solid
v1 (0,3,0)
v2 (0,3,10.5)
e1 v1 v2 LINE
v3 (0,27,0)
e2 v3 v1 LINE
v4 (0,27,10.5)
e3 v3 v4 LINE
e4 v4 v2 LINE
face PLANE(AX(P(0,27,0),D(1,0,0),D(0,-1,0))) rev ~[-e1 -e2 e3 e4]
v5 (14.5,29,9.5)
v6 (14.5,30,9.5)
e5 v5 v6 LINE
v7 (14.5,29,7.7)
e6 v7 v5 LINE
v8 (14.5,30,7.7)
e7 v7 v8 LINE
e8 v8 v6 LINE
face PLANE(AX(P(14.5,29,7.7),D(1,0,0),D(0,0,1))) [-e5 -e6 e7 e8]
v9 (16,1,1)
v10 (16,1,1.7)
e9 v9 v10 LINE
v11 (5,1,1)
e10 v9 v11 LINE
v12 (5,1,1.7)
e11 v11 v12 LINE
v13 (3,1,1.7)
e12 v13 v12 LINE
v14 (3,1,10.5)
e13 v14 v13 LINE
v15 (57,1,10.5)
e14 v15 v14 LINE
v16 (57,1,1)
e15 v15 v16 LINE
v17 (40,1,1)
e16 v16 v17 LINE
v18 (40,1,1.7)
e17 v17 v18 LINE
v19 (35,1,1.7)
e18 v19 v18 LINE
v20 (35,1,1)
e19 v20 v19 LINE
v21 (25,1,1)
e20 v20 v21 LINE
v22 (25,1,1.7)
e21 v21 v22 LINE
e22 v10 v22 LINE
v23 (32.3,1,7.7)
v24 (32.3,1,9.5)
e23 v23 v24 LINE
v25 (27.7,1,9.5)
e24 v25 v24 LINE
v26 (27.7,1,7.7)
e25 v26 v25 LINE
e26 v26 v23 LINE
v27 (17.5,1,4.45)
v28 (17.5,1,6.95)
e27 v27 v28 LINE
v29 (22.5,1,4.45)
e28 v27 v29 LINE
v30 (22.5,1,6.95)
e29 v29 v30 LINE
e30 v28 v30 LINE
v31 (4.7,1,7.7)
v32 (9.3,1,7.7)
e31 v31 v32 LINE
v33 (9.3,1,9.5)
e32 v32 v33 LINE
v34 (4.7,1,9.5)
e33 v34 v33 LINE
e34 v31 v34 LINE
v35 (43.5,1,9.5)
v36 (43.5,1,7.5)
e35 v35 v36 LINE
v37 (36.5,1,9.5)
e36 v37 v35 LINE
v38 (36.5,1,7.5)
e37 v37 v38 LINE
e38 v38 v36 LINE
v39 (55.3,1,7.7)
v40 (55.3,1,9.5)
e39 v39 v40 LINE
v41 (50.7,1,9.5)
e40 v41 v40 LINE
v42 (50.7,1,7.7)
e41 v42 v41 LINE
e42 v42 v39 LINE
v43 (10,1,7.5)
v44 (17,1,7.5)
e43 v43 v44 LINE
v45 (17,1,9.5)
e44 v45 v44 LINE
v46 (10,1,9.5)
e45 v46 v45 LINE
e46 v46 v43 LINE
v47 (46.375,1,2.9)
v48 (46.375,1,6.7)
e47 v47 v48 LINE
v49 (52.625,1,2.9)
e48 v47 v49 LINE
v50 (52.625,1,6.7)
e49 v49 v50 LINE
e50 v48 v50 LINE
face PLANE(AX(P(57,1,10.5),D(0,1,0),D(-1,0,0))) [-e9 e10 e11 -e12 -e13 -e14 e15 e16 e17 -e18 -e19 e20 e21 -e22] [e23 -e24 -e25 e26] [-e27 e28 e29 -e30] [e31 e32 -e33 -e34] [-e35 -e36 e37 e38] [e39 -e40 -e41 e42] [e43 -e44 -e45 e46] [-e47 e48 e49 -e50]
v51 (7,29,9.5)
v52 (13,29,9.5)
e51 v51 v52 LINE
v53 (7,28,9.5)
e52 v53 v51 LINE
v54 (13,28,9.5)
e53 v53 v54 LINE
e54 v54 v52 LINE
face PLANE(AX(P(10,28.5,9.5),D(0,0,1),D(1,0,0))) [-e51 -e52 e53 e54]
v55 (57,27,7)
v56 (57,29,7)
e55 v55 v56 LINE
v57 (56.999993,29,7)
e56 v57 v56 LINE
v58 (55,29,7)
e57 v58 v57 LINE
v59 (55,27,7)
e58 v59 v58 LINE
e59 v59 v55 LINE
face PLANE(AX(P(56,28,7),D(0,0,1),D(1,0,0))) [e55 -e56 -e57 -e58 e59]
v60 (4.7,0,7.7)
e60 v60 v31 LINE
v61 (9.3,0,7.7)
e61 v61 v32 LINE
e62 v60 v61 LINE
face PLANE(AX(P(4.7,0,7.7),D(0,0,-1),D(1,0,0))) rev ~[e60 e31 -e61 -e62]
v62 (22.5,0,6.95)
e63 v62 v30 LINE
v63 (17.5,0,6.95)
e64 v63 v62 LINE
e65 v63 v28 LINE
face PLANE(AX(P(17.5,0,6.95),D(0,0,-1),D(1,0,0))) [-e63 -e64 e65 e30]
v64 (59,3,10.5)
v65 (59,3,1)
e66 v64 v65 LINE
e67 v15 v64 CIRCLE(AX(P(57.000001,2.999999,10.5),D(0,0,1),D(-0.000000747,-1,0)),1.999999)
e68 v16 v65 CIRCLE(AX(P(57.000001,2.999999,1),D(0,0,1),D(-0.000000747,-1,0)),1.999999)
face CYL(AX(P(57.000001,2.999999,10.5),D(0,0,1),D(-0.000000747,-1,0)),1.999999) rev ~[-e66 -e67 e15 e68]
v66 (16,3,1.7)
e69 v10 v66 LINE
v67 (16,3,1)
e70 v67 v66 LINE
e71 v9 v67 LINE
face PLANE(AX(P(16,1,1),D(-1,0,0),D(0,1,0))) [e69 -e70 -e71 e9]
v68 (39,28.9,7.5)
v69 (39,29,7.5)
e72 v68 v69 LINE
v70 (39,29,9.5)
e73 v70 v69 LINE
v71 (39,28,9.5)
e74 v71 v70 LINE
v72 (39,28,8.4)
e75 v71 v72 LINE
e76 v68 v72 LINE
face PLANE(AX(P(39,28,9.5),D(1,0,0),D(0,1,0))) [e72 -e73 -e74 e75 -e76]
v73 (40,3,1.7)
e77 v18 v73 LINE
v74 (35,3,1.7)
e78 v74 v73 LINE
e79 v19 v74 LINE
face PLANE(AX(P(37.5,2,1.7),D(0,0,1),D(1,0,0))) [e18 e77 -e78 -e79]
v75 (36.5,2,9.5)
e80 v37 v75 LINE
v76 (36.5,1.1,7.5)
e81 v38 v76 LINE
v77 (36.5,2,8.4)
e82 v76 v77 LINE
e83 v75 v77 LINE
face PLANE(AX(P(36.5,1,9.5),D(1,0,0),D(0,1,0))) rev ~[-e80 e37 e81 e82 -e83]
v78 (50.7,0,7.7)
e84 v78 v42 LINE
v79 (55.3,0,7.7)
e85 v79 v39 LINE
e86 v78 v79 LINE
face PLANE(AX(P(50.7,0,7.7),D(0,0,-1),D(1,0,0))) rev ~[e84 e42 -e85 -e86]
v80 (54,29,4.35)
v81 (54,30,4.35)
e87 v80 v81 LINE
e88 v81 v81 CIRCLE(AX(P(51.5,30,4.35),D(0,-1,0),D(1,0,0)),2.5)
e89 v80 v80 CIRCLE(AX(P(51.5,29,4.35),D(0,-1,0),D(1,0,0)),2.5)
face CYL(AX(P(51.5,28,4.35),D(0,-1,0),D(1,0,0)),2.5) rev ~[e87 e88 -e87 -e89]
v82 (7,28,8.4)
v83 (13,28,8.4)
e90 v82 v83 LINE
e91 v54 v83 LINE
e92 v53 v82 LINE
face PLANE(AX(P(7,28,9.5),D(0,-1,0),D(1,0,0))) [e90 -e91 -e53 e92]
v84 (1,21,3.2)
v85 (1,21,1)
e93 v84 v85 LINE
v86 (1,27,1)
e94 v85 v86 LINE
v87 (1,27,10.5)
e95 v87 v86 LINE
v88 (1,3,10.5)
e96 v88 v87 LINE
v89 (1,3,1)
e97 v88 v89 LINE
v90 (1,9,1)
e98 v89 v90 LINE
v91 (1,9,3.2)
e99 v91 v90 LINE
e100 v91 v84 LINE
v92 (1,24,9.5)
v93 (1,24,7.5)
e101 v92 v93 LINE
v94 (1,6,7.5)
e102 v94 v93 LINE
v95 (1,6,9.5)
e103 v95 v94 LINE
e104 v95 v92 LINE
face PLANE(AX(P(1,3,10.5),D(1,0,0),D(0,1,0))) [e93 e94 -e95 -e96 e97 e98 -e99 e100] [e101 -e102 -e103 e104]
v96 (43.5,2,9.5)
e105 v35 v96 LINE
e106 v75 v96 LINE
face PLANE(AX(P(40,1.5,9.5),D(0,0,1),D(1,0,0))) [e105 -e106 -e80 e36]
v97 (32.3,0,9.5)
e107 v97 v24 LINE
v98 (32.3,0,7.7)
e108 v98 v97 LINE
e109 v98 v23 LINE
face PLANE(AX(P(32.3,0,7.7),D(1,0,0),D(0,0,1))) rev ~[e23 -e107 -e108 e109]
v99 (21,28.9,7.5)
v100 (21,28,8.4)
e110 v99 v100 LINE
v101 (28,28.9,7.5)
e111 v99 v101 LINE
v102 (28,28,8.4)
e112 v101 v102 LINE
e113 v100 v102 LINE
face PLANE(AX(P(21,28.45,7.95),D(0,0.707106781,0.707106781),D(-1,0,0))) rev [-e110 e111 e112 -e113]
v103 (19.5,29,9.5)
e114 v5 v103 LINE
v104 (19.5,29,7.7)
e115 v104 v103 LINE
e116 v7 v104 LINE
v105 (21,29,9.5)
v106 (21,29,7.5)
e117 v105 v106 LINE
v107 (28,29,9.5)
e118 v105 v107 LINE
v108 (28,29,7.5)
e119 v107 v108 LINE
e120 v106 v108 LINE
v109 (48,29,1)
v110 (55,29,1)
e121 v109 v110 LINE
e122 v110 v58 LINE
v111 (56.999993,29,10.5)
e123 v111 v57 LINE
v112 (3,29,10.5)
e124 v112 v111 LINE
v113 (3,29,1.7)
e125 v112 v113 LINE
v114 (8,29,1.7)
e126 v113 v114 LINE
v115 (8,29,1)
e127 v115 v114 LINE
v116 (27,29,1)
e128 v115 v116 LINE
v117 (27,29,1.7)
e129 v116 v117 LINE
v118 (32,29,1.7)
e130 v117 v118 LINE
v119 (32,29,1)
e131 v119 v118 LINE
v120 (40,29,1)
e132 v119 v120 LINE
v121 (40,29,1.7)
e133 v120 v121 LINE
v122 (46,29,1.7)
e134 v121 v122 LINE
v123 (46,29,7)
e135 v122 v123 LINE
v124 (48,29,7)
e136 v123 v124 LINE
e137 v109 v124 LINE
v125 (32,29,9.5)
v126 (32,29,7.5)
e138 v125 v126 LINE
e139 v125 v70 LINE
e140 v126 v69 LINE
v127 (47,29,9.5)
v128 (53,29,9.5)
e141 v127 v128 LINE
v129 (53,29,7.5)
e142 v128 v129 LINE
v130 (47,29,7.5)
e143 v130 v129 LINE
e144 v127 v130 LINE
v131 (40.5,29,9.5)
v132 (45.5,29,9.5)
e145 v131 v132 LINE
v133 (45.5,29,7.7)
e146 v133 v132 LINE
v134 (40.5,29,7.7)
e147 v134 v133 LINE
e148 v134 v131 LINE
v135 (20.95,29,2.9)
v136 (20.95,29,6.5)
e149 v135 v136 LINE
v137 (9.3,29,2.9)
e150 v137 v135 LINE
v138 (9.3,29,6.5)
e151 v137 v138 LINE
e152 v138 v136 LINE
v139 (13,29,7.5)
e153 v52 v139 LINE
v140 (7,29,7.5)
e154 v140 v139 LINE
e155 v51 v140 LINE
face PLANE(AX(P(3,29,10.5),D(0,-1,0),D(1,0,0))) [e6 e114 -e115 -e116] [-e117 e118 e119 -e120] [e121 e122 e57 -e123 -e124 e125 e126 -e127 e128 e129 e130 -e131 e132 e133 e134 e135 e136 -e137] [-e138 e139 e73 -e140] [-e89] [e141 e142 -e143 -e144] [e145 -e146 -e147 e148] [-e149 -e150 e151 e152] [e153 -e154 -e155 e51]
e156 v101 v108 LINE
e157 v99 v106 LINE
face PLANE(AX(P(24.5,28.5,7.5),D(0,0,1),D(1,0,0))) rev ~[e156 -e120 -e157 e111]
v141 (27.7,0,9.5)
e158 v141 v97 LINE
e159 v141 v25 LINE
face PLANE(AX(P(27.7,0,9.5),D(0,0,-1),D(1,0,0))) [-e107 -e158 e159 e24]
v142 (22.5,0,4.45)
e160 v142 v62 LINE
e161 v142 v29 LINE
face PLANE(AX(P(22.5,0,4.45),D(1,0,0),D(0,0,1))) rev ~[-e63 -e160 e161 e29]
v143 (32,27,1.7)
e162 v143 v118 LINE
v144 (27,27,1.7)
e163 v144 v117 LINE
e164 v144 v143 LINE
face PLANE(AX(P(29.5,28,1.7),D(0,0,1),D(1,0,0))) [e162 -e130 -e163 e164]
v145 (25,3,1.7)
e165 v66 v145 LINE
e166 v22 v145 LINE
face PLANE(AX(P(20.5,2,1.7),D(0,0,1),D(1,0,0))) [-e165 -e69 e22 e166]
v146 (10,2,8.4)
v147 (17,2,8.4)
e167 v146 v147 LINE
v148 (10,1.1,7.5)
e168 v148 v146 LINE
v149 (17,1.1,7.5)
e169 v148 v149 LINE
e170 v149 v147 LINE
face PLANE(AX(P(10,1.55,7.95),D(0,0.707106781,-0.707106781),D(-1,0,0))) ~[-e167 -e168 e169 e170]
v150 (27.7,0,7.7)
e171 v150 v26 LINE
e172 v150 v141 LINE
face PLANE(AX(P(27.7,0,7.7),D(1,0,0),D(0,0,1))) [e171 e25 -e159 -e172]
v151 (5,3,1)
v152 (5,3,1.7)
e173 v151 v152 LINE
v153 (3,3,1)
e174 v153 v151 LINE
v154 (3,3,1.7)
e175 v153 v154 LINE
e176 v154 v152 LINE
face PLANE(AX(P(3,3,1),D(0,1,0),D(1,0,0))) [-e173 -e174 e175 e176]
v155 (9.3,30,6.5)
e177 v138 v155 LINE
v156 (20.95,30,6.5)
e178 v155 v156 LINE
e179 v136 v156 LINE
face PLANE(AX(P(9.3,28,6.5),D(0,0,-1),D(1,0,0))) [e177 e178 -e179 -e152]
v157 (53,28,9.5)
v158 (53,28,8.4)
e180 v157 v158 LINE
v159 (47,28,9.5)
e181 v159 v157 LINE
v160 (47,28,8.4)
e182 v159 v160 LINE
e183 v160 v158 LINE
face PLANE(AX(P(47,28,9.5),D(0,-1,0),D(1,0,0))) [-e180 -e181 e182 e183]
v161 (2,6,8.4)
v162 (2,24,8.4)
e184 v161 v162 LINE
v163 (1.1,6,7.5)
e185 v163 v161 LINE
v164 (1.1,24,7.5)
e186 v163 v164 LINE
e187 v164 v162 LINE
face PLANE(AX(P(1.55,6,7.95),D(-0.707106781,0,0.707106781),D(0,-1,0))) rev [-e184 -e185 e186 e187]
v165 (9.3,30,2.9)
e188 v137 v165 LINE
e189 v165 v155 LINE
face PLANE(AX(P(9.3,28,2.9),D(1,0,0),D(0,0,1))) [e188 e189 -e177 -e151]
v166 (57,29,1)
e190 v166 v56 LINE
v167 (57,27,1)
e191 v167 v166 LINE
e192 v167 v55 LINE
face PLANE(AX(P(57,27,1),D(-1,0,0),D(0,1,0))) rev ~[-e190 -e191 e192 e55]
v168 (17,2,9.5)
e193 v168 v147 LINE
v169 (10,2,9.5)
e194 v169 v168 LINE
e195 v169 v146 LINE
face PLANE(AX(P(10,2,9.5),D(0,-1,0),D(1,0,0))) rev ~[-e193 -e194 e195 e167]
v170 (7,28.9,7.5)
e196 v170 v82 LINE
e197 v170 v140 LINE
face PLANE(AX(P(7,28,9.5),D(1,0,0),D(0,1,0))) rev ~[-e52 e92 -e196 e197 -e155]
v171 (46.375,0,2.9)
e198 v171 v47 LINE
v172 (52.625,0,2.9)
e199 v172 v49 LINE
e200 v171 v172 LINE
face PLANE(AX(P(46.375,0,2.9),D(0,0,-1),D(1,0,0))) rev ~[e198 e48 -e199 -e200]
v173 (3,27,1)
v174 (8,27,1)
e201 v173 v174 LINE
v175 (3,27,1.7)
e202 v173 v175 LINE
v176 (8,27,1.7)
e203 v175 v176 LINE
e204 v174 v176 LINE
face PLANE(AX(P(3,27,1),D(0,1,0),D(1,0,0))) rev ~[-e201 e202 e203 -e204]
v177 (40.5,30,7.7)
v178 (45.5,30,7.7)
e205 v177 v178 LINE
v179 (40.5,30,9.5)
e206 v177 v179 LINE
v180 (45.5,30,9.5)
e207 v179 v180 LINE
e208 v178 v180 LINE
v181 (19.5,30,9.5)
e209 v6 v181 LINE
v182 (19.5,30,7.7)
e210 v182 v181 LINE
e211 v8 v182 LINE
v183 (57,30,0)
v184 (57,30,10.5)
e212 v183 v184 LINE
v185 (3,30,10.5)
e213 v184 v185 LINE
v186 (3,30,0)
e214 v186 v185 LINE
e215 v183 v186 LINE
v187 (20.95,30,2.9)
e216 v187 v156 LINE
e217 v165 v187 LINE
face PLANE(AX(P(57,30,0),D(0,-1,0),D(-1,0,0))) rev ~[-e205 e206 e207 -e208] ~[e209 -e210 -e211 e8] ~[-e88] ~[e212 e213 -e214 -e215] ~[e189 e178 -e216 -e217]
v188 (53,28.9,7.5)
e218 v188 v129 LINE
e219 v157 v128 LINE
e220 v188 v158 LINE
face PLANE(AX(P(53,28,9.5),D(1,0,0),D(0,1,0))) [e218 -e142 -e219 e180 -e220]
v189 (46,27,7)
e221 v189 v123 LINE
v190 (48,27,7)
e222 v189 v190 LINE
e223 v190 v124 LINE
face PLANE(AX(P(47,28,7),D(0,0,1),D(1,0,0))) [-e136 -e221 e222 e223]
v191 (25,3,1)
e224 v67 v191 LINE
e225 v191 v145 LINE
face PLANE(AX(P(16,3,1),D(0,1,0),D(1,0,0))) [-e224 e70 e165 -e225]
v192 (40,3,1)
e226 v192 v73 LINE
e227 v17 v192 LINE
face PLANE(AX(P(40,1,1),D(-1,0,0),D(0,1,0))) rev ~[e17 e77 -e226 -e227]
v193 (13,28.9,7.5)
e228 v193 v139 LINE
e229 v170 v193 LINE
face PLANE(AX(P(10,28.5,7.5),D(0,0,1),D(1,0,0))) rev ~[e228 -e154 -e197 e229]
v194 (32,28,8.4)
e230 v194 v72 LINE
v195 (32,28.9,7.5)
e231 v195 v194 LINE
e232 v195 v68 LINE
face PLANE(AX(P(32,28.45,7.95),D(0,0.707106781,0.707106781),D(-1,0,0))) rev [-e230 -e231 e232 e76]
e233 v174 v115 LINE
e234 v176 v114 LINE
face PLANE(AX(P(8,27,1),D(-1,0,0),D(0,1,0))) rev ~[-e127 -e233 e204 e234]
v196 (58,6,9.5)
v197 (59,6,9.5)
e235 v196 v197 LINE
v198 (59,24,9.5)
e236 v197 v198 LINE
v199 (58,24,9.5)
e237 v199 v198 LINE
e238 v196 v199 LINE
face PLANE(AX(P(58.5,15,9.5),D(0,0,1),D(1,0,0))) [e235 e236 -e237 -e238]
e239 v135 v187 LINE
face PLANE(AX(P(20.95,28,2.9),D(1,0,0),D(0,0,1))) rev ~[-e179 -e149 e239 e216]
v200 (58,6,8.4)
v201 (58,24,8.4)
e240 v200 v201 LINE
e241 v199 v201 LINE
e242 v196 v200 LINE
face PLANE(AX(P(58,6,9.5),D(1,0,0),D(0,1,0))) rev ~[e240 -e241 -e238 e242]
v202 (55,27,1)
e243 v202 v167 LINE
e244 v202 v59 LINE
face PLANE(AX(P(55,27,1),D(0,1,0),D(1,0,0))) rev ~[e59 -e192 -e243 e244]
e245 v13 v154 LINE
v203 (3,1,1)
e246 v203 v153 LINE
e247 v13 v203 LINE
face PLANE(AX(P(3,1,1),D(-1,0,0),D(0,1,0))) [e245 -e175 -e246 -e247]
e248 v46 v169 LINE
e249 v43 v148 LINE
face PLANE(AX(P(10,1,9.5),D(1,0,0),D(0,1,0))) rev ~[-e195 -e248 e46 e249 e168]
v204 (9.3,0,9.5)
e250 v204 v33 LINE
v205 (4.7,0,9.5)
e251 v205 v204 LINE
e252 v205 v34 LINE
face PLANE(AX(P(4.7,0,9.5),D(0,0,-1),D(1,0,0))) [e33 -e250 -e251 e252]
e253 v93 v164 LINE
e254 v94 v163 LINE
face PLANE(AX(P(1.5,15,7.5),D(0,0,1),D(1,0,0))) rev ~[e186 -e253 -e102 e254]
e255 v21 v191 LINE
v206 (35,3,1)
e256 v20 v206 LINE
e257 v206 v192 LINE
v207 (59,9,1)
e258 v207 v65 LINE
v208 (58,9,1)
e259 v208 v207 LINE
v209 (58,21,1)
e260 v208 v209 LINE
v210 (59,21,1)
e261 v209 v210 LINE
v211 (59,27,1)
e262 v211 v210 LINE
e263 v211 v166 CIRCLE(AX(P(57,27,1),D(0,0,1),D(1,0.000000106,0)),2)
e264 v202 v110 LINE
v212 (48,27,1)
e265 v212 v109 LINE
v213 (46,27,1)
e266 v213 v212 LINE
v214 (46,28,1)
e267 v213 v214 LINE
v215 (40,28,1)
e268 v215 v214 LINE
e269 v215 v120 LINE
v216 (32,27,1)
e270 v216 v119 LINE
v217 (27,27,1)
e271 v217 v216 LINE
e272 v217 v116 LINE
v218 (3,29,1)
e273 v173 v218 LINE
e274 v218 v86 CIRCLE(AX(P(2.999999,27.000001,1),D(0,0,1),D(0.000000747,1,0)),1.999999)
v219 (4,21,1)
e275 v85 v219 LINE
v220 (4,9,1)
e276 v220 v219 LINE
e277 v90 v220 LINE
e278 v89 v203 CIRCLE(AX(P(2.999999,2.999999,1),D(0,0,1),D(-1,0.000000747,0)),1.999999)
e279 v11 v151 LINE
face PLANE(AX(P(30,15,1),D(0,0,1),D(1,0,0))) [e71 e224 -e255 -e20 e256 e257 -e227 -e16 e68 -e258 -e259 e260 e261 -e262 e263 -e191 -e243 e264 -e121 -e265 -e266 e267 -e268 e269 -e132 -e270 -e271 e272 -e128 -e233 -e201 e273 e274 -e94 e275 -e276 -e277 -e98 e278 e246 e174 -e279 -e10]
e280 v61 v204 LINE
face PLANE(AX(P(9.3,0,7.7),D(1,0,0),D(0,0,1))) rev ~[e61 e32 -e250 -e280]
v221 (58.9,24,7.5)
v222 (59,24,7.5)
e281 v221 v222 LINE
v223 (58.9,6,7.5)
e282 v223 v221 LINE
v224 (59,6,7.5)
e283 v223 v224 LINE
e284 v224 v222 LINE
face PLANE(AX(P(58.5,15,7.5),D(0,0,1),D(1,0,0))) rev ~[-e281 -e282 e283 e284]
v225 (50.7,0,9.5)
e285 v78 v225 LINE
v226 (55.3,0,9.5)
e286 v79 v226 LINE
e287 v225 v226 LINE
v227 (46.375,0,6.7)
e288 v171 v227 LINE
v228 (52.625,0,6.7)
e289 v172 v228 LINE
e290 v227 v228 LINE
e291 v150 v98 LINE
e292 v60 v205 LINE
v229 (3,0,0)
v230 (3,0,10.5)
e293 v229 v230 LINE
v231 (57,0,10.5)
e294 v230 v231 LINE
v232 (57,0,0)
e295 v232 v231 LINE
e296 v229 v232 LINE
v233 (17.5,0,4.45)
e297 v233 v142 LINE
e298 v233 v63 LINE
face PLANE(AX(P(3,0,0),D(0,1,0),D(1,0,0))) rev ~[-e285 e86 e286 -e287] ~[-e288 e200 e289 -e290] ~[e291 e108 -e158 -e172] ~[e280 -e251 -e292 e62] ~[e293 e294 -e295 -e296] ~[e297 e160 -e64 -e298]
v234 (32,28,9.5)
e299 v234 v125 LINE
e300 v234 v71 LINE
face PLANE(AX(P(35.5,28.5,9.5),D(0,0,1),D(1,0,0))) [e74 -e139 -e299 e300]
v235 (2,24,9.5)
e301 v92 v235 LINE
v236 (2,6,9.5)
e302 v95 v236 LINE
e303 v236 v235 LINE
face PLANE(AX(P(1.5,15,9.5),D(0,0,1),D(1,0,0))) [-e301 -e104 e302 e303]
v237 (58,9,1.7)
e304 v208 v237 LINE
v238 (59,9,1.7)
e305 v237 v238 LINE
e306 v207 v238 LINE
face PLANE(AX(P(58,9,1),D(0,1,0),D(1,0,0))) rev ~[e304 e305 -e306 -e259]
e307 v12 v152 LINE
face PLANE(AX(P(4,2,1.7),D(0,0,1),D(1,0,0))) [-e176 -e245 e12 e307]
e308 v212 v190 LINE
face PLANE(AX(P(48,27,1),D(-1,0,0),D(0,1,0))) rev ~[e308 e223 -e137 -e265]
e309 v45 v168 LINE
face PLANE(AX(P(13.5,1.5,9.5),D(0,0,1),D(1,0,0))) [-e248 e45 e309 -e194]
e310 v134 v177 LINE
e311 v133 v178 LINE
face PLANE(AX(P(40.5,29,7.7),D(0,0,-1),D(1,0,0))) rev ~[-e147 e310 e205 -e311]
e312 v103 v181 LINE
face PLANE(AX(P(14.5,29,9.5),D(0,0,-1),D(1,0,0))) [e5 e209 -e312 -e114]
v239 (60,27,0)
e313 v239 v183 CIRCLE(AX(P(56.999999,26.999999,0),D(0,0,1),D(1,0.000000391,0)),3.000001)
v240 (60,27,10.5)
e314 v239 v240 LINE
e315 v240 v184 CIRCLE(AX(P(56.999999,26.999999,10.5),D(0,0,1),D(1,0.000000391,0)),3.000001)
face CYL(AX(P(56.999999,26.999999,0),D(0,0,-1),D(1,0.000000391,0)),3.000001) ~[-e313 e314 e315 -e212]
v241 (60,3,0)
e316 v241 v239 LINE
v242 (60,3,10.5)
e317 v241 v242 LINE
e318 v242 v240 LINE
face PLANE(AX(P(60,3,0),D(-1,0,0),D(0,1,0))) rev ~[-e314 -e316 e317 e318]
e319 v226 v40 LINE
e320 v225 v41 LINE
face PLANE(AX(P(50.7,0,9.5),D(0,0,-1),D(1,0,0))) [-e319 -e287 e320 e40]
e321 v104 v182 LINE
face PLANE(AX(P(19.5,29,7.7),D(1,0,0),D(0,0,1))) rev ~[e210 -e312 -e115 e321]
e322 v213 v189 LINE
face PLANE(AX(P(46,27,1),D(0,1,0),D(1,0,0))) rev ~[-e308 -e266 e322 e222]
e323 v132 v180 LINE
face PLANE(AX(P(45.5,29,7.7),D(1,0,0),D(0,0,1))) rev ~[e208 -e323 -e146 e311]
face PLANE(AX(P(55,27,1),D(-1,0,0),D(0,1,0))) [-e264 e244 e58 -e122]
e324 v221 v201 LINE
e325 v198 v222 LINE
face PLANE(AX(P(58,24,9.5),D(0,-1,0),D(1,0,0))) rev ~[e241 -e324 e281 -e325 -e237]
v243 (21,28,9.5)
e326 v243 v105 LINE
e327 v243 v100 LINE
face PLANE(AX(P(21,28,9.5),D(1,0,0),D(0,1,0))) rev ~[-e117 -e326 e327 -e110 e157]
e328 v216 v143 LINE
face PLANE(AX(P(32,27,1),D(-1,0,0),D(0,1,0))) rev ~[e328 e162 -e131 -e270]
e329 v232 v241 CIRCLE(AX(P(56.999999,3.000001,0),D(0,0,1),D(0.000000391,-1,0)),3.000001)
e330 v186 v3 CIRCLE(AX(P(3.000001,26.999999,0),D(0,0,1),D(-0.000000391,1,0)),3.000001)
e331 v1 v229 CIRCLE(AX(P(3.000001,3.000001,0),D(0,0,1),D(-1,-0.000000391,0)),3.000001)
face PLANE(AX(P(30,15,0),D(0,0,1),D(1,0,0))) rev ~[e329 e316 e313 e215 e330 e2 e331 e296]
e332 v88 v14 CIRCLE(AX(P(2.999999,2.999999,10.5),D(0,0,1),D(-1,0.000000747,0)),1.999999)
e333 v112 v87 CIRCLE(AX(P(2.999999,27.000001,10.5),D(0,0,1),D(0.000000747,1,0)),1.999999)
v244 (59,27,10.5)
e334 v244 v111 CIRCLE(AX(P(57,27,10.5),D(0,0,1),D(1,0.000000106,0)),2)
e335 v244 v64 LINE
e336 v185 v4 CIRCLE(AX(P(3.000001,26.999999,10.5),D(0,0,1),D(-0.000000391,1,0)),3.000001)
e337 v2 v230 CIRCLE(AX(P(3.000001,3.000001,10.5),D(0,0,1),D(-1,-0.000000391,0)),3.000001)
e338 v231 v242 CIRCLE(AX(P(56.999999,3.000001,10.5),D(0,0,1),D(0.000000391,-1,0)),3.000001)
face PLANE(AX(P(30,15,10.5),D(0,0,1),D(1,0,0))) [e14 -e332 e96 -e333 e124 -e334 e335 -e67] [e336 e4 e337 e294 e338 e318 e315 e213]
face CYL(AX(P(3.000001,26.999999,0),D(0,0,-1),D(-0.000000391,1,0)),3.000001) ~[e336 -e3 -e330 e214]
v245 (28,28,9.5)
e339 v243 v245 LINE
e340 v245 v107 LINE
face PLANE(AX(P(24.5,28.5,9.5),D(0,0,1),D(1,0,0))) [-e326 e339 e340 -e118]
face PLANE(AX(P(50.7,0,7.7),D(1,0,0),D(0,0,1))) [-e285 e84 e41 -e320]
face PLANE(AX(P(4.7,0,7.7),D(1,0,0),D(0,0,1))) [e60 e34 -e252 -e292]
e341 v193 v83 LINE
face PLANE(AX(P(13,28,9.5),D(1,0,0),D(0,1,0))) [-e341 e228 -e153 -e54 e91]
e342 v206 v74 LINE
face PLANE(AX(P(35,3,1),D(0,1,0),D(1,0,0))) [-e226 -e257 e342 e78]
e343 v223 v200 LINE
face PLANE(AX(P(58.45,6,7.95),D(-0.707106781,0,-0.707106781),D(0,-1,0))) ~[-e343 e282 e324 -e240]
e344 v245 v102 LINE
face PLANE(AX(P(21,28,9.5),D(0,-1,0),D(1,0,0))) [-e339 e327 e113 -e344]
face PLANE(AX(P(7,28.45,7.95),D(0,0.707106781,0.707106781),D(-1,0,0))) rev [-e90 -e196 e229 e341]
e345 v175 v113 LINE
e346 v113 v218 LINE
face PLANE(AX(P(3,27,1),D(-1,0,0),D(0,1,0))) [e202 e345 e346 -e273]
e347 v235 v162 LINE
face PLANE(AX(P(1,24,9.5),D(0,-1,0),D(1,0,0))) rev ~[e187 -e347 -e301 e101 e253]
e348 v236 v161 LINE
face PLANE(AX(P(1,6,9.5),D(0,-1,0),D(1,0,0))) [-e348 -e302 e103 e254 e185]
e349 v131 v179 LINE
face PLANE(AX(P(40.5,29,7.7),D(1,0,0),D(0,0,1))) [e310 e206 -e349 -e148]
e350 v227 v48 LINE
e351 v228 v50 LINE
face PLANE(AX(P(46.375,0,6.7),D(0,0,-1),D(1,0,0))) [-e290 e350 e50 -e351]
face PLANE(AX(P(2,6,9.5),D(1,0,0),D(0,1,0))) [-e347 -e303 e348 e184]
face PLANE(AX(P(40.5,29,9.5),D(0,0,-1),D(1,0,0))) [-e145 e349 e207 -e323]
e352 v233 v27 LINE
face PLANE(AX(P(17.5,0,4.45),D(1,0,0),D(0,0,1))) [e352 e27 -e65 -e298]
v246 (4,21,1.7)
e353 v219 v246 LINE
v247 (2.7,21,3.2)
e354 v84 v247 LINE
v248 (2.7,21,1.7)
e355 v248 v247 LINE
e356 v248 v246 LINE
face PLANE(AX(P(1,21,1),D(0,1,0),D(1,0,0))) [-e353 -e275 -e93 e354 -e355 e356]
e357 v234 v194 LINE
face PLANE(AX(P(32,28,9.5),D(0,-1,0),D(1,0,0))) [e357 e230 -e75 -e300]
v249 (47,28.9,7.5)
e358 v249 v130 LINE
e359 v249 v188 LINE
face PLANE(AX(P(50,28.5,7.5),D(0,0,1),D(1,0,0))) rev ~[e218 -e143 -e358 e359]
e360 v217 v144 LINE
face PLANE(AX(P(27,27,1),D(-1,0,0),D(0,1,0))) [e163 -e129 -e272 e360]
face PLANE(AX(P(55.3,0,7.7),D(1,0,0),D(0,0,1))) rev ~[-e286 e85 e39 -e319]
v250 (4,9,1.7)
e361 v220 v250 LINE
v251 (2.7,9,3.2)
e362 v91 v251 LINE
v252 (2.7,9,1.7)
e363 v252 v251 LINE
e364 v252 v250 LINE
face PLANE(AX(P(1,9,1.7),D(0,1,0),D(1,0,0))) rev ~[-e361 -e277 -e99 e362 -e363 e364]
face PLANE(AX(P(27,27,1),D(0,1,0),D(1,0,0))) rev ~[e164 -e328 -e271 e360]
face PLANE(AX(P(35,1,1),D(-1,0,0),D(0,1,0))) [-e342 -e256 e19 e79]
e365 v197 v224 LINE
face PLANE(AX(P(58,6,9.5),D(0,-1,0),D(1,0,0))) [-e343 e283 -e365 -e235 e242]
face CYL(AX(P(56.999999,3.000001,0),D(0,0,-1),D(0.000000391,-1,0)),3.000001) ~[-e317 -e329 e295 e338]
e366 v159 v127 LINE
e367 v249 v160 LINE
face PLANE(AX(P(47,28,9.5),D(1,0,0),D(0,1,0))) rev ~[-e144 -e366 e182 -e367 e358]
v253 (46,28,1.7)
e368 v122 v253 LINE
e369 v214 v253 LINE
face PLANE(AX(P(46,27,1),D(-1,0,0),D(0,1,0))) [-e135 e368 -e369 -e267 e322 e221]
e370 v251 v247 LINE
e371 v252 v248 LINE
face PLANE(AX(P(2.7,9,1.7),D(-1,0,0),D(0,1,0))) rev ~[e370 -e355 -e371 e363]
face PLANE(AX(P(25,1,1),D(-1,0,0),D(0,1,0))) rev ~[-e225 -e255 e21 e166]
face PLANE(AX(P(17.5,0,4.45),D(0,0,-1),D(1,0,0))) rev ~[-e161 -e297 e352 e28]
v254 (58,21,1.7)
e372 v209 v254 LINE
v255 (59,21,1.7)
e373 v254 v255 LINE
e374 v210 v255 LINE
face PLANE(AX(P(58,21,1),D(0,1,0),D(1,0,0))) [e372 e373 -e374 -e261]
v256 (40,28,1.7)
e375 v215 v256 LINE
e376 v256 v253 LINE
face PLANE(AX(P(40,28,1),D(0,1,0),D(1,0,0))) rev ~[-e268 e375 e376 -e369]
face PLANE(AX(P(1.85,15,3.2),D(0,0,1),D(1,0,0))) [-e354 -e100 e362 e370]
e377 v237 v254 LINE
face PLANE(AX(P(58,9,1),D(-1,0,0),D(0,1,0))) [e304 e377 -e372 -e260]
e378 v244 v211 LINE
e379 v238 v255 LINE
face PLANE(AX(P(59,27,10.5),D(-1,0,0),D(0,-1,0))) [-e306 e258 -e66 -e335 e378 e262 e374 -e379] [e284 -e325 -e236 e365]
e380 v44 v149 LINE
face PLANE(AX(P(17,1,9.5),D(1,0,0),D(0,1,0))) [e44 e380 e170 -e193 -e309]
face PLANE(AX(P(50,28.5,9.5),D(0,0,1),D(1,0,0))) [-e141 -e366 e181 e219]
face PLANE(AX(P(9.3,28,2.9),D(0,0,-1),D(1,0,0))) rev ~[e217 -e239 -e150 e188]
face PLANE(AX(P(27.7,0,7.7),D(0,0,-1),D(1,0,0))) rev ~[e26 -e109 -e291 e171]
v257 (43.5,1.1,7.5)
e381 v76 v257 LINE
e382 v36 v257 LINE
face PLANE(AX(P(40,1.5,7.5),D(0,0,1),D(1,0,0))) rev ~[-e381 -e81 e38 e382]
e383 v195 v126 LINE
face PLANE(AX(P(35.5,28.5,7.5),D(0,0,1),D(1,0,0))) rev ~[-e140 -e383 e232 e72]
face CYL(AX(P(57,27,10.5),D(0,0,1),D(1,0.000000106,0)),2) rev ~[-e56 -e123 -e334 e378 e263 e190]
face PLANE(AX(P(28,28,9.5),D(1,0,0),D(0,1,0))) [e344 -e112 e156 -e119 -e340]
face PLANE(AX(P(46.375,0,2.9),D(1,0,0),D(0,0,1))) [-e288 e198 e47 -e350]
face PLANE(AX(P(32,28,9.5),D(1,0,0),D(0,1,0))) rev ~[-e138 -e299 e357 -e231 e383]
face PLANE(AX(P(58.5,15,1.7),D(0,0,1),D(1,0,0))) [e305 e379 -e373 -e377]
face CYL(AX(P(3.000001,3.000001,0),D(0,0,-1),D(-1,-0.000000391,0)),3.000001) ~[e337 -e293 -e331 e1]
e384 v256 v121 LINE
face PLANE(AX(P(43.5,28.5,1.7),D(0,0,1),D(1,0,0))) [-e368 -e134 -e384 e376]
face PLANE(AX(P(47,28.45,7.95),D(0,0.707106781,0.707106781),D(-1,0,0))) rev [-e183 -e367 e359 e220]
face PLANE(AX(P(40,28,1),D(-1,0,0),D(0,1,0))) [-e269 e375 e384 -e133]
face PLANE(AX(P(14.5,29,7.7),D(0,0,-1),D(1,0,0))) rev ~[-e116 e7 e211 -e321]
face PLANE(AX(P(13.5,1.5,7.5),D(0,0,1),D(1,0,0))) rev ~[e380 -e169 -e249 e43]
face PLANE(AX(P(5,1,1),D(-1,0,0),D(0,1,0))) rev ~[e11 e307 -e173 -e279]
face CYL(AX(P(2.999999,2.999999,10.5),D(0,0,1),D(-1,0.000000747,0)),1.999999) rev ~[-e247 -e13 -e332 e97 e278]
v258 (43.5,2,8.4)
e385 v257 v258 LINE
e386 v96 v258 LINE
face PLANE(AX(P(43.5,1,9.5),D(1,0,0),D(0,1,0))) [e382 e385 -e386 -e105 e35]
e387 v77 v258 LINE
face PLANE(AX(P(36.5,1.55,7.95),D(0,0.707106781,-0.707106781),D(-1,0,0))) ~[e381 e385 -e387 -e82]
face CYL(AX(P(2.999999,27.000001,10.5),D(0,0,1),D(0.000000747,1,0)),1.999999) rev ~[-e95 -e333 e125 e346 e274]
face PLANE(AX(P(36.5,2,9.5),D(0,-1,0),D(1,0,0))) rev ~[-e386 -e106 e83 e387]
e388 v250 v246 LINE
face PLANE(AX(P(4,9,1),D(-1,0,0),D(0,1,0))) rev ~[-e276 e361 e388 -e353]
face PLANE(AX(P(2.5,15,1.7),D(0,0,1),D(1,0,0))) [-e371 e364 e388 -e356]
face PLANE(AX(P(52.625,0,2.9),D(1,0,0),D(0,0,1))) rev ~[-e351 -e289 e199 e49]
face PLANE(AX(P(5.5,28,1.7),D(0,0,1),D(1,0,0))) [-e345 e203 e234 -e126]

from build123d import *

# Parameters (mm, degrees)
PAD_DEPTH       = 10.5
POCKET_DEPTH    = 9.5
SKETCH002_W     = 4.6
SKETCH002_H     = 1.8
POCKET001_DEPTH = 1
SKETCH003_W     = 5
SKETCH003_H     = 1.8
POCKET002_DEPTH = 1
SKETCH004_W     = 1
SKETCH004_H     = 18
SKETCH004_W_2   = 7
SKETCH004_H_2   = 1
SKETCH004_W_3   = 6
PAD001_DEPTH    = 2
CHAMFER_SIZE    = 0.9
SKETCH005_R     = 2.5
SKETCH005_W     = 11.65
SKETCH005_H     = 3.6
POCKET003_DEPTH = 2.001
SKETCH006_W     = 6.25
SKETCH006_H     = 3.8
SKETCH006_W_2   = 5
SKETCH006_H_2   = 2.5
POCKET004_DEPTH = 1
SKETCH007_W     = 3
SKETCH007_H     = 12
SKETCH007_W_2   = 5
SKETCH007_H_2   = 2
SKETCH007_W_3   = 7
SKETCH007_H_3   = 1
SKETCH007_W_4   = 1
SKETCH007_W_5   = 2
SKETCH007_W_6   = 9
PAD002_DEPTH    = 0.7
SKETCH009_W     = 2
SKETCH009_H     = 2
PAD003_DEPTH    = 6
SKETCH010_W     = 1.7
SKETCH010_H     = 12
PAD004_DEPTH    = 1.5


with BuildPart() as part:
    # Sketch → Pad (new body)
    with BuildSketch(Plane.XY):
        with BuildLine():
            ThreePointArc((0, 3), (0.87868, 0.87868), (3, 0))
            Line((3, 0), (57, 0))
            ThreePointArc((57, 0), (59.12132, 0.87868), (60, 3))
            Line((60, 3), (60, 27))
            ThreePointArc((60, 27), (59.12132, 29.12132), (57, 30))
            Line((57, 30), (3, 30))
            ThreePointArc((3, 30), (0.87868, 29.12132), (0, 27))
            Line((0, 27), (0, 3))
        make_face()
    extrude(amount=PAD_DEPTH)

    # Sketch001 (on Face10 of Pad) → Pocket (cut)
    with BuildSketch(Plane.XY.offset(10.5)):
        with BuildLine():
            ThreePointArc((3, 29), (1.585786, 28.414214), (1, 27))
            Line((1, 3), (1, 27))
            ThreePointArc((1, 3), (1.585786, 1.585786), (3, 1))
            Line((57, 1), (3, 1))
            ThreePointArc((57, 1), (58.414214, 1.585786), (59, 3))
            Line((59, 27), (59, 3))
            ThreePointArc((59, 27), (58.414211, 28.414216), (56.999993, 29))
            Line((3, 29), (56.999993, 29))
        make_face()
    extrude(amount=-POCKET_DEPTH, mode=Mode.SUBTRACT)

    # Sketch002 → Pocket001 (cut)
    with BuildSketch(Plane.XZ):
        with Locations((7, 8.6)):
            Rectangle(SKETCH002_W, SKETCH002_H)
        with Locations((30, 8.6)):
            Rectangle(SKETCH002_W, SKETCH002_H)
        with Locations((53, 8.6)):
            Rectangle(SKETCH002_W, SKETCH002_H)
    extrude(amount=-POCKET001_DEPTH, mode=Mode.SUBTRACT)

    # Sketch003 (on Face24 of Pocket001) → Pocket002 (cut)
    with BuildSketch(Plane.XZ.offset(-29)):
        with Locations((17, 8.6)):
            Rectangle(SKETCH003_W, SKETCH003_H)
        with Locations((43, 8.6)):
            Rectangle(SKETCH003_W, SKETCH003_H)
    extrude(amount=-POCKET002_DEPTH, mode=Mode.SUBTRACT)

    # Sketch004 → Pad001 (join)
    with BuildSketch(Plane.XY.offset(9.5)):
        with Locations((1.5, 15)):
            Rectangle(SKETCH004_W, SKETCH004_H)
        with Locations((13.5, 1.5)):
            Rectangle(SKETCH004_W_2, SKETCH004_H_2)
        with Locations((40, 1.5)):
            Rectangle(SKETCH004_W_2, SKETCH004_H_2)
        with Locations((24.5, 28.5)):
            Rectangle(SKETCH004_W_2, SKETCH004_H_2)
        with Locations((50, 28.5)):
            Rectangle(SKETCH004_W_3, SKETCH004_H_2)
        with Locations((58.5, 15)):
            Rectangle(SKETCH004_W, SKETCH004_H)
        with Locations((10, 28.5)):
            Rectangle(SKETCH004_W_3, SKETCH004_H_2)
        with Locations((35.5, 28.5)):
            Rectangle(SKETCH004_W_2, SKETCH004_H_2)
    extrude(amount=-PAD001_DEPTH)

    # Chamfer
    chamfer_edges = [part.edges().sort_by_distance(p)[0] for p in [
        (40, 2, 7.5),
        (13.5, 2, 7.5),
        (58, 15, 7.5),
        (2, 15, 7.5),
        (10, 28, 7.5),
        (24.5, 28, 7.5),
        (35.5, 28, 7.5),
        (50, 28, 7.5),
    ]]
    chamfer(chamfer_edges, length=CHAMFER_SIZE)

    # Sketch005 → Pocket003 (cut, through all)
    with BuildSketch(Plane.XZ.offset(-28)):
        with Locations((51.5, 4.35)):
            Circle(SKETCH005_R)
        with Locations((15.125, 4.7)):
            Rectangle(SKETCH005_W, SKETCH005_H)
    extrude(amount=-POCKET003_DEPTH, mode=Mode.SUBTRACT)

    # Sketch006 → Pocket004 (cut)
    with BuildSketch(Plane.XZ):
        with Locations((49.5, 4.8)):
            Rectangle(SKETCH006_W, SKETCH006_H)
        with Locations((20, 5.7)):
            Rectangle(SKETCH006_W_2, SKETCH006_H_2)
    extrude(amount=-POCKET004_DEPTH, mode=Mode.SUBTRACT)

    # Sketch007 (on Face10 of Pocket004) → Pad002 (join)
    with BuildSketch(Plane.XY.offset(1)):
        with Locations((2.5, 15)):
            Rectangle(SKETCH007_W, SKETCH007_H)
        with Locations((37.5, 2)):
            Rectangle(SKETCH007_W_2, SKETCH007_H_2)
        with Locations((43.5, 28.5)):
            Rectangle(SKETCH007_W_3, SKETCH007_H_3)
        with Locations((5.5, 28)):
            Rectangle(SKETCH007_W_2, SKETCH007_H_2)
        with Locations((58.5, 15)):
            Rectangle(SKETCH007_W_4, SKETCH007_H)
        with Locations((4, 2)):
            Rectangle(SKETCH007_W_5, SKETCH007_H_2)
        with Locations((29.5, 28)):
            Rectangle(SKETCH007_W_2, SKETCH007_H_2)
        with Locations((20.5, 2)):
            Rectangle(SKETCH007_W_6, SKETCH007_H_2)
    extrude(amount=PAD002_DEPTH)

    # Sketch009 → Pad003 (join)
    with BuildSketch(Plane.XY.offset(1)):
        with Locations((47, 28)):
            Rectangle(SKETCH009_W, SKETCH009_H)
        with Locations((56, 28)):
            Rectangle(SKETCH009_W, SKETCH009_H)
    extrude(amount=PAD003_DEPTH)

    # Sketch010 (on Face111 of Pad003) → Pad004 (join)
    with BuildSketch(Plane.XY.offset(1.7)):
        with Locations((1.85, 15)):
            Rectangle(SKETCH010_W, SKETCH010_H)
    extrude(amount=PAD004_DEPTH)


solid = part.part
